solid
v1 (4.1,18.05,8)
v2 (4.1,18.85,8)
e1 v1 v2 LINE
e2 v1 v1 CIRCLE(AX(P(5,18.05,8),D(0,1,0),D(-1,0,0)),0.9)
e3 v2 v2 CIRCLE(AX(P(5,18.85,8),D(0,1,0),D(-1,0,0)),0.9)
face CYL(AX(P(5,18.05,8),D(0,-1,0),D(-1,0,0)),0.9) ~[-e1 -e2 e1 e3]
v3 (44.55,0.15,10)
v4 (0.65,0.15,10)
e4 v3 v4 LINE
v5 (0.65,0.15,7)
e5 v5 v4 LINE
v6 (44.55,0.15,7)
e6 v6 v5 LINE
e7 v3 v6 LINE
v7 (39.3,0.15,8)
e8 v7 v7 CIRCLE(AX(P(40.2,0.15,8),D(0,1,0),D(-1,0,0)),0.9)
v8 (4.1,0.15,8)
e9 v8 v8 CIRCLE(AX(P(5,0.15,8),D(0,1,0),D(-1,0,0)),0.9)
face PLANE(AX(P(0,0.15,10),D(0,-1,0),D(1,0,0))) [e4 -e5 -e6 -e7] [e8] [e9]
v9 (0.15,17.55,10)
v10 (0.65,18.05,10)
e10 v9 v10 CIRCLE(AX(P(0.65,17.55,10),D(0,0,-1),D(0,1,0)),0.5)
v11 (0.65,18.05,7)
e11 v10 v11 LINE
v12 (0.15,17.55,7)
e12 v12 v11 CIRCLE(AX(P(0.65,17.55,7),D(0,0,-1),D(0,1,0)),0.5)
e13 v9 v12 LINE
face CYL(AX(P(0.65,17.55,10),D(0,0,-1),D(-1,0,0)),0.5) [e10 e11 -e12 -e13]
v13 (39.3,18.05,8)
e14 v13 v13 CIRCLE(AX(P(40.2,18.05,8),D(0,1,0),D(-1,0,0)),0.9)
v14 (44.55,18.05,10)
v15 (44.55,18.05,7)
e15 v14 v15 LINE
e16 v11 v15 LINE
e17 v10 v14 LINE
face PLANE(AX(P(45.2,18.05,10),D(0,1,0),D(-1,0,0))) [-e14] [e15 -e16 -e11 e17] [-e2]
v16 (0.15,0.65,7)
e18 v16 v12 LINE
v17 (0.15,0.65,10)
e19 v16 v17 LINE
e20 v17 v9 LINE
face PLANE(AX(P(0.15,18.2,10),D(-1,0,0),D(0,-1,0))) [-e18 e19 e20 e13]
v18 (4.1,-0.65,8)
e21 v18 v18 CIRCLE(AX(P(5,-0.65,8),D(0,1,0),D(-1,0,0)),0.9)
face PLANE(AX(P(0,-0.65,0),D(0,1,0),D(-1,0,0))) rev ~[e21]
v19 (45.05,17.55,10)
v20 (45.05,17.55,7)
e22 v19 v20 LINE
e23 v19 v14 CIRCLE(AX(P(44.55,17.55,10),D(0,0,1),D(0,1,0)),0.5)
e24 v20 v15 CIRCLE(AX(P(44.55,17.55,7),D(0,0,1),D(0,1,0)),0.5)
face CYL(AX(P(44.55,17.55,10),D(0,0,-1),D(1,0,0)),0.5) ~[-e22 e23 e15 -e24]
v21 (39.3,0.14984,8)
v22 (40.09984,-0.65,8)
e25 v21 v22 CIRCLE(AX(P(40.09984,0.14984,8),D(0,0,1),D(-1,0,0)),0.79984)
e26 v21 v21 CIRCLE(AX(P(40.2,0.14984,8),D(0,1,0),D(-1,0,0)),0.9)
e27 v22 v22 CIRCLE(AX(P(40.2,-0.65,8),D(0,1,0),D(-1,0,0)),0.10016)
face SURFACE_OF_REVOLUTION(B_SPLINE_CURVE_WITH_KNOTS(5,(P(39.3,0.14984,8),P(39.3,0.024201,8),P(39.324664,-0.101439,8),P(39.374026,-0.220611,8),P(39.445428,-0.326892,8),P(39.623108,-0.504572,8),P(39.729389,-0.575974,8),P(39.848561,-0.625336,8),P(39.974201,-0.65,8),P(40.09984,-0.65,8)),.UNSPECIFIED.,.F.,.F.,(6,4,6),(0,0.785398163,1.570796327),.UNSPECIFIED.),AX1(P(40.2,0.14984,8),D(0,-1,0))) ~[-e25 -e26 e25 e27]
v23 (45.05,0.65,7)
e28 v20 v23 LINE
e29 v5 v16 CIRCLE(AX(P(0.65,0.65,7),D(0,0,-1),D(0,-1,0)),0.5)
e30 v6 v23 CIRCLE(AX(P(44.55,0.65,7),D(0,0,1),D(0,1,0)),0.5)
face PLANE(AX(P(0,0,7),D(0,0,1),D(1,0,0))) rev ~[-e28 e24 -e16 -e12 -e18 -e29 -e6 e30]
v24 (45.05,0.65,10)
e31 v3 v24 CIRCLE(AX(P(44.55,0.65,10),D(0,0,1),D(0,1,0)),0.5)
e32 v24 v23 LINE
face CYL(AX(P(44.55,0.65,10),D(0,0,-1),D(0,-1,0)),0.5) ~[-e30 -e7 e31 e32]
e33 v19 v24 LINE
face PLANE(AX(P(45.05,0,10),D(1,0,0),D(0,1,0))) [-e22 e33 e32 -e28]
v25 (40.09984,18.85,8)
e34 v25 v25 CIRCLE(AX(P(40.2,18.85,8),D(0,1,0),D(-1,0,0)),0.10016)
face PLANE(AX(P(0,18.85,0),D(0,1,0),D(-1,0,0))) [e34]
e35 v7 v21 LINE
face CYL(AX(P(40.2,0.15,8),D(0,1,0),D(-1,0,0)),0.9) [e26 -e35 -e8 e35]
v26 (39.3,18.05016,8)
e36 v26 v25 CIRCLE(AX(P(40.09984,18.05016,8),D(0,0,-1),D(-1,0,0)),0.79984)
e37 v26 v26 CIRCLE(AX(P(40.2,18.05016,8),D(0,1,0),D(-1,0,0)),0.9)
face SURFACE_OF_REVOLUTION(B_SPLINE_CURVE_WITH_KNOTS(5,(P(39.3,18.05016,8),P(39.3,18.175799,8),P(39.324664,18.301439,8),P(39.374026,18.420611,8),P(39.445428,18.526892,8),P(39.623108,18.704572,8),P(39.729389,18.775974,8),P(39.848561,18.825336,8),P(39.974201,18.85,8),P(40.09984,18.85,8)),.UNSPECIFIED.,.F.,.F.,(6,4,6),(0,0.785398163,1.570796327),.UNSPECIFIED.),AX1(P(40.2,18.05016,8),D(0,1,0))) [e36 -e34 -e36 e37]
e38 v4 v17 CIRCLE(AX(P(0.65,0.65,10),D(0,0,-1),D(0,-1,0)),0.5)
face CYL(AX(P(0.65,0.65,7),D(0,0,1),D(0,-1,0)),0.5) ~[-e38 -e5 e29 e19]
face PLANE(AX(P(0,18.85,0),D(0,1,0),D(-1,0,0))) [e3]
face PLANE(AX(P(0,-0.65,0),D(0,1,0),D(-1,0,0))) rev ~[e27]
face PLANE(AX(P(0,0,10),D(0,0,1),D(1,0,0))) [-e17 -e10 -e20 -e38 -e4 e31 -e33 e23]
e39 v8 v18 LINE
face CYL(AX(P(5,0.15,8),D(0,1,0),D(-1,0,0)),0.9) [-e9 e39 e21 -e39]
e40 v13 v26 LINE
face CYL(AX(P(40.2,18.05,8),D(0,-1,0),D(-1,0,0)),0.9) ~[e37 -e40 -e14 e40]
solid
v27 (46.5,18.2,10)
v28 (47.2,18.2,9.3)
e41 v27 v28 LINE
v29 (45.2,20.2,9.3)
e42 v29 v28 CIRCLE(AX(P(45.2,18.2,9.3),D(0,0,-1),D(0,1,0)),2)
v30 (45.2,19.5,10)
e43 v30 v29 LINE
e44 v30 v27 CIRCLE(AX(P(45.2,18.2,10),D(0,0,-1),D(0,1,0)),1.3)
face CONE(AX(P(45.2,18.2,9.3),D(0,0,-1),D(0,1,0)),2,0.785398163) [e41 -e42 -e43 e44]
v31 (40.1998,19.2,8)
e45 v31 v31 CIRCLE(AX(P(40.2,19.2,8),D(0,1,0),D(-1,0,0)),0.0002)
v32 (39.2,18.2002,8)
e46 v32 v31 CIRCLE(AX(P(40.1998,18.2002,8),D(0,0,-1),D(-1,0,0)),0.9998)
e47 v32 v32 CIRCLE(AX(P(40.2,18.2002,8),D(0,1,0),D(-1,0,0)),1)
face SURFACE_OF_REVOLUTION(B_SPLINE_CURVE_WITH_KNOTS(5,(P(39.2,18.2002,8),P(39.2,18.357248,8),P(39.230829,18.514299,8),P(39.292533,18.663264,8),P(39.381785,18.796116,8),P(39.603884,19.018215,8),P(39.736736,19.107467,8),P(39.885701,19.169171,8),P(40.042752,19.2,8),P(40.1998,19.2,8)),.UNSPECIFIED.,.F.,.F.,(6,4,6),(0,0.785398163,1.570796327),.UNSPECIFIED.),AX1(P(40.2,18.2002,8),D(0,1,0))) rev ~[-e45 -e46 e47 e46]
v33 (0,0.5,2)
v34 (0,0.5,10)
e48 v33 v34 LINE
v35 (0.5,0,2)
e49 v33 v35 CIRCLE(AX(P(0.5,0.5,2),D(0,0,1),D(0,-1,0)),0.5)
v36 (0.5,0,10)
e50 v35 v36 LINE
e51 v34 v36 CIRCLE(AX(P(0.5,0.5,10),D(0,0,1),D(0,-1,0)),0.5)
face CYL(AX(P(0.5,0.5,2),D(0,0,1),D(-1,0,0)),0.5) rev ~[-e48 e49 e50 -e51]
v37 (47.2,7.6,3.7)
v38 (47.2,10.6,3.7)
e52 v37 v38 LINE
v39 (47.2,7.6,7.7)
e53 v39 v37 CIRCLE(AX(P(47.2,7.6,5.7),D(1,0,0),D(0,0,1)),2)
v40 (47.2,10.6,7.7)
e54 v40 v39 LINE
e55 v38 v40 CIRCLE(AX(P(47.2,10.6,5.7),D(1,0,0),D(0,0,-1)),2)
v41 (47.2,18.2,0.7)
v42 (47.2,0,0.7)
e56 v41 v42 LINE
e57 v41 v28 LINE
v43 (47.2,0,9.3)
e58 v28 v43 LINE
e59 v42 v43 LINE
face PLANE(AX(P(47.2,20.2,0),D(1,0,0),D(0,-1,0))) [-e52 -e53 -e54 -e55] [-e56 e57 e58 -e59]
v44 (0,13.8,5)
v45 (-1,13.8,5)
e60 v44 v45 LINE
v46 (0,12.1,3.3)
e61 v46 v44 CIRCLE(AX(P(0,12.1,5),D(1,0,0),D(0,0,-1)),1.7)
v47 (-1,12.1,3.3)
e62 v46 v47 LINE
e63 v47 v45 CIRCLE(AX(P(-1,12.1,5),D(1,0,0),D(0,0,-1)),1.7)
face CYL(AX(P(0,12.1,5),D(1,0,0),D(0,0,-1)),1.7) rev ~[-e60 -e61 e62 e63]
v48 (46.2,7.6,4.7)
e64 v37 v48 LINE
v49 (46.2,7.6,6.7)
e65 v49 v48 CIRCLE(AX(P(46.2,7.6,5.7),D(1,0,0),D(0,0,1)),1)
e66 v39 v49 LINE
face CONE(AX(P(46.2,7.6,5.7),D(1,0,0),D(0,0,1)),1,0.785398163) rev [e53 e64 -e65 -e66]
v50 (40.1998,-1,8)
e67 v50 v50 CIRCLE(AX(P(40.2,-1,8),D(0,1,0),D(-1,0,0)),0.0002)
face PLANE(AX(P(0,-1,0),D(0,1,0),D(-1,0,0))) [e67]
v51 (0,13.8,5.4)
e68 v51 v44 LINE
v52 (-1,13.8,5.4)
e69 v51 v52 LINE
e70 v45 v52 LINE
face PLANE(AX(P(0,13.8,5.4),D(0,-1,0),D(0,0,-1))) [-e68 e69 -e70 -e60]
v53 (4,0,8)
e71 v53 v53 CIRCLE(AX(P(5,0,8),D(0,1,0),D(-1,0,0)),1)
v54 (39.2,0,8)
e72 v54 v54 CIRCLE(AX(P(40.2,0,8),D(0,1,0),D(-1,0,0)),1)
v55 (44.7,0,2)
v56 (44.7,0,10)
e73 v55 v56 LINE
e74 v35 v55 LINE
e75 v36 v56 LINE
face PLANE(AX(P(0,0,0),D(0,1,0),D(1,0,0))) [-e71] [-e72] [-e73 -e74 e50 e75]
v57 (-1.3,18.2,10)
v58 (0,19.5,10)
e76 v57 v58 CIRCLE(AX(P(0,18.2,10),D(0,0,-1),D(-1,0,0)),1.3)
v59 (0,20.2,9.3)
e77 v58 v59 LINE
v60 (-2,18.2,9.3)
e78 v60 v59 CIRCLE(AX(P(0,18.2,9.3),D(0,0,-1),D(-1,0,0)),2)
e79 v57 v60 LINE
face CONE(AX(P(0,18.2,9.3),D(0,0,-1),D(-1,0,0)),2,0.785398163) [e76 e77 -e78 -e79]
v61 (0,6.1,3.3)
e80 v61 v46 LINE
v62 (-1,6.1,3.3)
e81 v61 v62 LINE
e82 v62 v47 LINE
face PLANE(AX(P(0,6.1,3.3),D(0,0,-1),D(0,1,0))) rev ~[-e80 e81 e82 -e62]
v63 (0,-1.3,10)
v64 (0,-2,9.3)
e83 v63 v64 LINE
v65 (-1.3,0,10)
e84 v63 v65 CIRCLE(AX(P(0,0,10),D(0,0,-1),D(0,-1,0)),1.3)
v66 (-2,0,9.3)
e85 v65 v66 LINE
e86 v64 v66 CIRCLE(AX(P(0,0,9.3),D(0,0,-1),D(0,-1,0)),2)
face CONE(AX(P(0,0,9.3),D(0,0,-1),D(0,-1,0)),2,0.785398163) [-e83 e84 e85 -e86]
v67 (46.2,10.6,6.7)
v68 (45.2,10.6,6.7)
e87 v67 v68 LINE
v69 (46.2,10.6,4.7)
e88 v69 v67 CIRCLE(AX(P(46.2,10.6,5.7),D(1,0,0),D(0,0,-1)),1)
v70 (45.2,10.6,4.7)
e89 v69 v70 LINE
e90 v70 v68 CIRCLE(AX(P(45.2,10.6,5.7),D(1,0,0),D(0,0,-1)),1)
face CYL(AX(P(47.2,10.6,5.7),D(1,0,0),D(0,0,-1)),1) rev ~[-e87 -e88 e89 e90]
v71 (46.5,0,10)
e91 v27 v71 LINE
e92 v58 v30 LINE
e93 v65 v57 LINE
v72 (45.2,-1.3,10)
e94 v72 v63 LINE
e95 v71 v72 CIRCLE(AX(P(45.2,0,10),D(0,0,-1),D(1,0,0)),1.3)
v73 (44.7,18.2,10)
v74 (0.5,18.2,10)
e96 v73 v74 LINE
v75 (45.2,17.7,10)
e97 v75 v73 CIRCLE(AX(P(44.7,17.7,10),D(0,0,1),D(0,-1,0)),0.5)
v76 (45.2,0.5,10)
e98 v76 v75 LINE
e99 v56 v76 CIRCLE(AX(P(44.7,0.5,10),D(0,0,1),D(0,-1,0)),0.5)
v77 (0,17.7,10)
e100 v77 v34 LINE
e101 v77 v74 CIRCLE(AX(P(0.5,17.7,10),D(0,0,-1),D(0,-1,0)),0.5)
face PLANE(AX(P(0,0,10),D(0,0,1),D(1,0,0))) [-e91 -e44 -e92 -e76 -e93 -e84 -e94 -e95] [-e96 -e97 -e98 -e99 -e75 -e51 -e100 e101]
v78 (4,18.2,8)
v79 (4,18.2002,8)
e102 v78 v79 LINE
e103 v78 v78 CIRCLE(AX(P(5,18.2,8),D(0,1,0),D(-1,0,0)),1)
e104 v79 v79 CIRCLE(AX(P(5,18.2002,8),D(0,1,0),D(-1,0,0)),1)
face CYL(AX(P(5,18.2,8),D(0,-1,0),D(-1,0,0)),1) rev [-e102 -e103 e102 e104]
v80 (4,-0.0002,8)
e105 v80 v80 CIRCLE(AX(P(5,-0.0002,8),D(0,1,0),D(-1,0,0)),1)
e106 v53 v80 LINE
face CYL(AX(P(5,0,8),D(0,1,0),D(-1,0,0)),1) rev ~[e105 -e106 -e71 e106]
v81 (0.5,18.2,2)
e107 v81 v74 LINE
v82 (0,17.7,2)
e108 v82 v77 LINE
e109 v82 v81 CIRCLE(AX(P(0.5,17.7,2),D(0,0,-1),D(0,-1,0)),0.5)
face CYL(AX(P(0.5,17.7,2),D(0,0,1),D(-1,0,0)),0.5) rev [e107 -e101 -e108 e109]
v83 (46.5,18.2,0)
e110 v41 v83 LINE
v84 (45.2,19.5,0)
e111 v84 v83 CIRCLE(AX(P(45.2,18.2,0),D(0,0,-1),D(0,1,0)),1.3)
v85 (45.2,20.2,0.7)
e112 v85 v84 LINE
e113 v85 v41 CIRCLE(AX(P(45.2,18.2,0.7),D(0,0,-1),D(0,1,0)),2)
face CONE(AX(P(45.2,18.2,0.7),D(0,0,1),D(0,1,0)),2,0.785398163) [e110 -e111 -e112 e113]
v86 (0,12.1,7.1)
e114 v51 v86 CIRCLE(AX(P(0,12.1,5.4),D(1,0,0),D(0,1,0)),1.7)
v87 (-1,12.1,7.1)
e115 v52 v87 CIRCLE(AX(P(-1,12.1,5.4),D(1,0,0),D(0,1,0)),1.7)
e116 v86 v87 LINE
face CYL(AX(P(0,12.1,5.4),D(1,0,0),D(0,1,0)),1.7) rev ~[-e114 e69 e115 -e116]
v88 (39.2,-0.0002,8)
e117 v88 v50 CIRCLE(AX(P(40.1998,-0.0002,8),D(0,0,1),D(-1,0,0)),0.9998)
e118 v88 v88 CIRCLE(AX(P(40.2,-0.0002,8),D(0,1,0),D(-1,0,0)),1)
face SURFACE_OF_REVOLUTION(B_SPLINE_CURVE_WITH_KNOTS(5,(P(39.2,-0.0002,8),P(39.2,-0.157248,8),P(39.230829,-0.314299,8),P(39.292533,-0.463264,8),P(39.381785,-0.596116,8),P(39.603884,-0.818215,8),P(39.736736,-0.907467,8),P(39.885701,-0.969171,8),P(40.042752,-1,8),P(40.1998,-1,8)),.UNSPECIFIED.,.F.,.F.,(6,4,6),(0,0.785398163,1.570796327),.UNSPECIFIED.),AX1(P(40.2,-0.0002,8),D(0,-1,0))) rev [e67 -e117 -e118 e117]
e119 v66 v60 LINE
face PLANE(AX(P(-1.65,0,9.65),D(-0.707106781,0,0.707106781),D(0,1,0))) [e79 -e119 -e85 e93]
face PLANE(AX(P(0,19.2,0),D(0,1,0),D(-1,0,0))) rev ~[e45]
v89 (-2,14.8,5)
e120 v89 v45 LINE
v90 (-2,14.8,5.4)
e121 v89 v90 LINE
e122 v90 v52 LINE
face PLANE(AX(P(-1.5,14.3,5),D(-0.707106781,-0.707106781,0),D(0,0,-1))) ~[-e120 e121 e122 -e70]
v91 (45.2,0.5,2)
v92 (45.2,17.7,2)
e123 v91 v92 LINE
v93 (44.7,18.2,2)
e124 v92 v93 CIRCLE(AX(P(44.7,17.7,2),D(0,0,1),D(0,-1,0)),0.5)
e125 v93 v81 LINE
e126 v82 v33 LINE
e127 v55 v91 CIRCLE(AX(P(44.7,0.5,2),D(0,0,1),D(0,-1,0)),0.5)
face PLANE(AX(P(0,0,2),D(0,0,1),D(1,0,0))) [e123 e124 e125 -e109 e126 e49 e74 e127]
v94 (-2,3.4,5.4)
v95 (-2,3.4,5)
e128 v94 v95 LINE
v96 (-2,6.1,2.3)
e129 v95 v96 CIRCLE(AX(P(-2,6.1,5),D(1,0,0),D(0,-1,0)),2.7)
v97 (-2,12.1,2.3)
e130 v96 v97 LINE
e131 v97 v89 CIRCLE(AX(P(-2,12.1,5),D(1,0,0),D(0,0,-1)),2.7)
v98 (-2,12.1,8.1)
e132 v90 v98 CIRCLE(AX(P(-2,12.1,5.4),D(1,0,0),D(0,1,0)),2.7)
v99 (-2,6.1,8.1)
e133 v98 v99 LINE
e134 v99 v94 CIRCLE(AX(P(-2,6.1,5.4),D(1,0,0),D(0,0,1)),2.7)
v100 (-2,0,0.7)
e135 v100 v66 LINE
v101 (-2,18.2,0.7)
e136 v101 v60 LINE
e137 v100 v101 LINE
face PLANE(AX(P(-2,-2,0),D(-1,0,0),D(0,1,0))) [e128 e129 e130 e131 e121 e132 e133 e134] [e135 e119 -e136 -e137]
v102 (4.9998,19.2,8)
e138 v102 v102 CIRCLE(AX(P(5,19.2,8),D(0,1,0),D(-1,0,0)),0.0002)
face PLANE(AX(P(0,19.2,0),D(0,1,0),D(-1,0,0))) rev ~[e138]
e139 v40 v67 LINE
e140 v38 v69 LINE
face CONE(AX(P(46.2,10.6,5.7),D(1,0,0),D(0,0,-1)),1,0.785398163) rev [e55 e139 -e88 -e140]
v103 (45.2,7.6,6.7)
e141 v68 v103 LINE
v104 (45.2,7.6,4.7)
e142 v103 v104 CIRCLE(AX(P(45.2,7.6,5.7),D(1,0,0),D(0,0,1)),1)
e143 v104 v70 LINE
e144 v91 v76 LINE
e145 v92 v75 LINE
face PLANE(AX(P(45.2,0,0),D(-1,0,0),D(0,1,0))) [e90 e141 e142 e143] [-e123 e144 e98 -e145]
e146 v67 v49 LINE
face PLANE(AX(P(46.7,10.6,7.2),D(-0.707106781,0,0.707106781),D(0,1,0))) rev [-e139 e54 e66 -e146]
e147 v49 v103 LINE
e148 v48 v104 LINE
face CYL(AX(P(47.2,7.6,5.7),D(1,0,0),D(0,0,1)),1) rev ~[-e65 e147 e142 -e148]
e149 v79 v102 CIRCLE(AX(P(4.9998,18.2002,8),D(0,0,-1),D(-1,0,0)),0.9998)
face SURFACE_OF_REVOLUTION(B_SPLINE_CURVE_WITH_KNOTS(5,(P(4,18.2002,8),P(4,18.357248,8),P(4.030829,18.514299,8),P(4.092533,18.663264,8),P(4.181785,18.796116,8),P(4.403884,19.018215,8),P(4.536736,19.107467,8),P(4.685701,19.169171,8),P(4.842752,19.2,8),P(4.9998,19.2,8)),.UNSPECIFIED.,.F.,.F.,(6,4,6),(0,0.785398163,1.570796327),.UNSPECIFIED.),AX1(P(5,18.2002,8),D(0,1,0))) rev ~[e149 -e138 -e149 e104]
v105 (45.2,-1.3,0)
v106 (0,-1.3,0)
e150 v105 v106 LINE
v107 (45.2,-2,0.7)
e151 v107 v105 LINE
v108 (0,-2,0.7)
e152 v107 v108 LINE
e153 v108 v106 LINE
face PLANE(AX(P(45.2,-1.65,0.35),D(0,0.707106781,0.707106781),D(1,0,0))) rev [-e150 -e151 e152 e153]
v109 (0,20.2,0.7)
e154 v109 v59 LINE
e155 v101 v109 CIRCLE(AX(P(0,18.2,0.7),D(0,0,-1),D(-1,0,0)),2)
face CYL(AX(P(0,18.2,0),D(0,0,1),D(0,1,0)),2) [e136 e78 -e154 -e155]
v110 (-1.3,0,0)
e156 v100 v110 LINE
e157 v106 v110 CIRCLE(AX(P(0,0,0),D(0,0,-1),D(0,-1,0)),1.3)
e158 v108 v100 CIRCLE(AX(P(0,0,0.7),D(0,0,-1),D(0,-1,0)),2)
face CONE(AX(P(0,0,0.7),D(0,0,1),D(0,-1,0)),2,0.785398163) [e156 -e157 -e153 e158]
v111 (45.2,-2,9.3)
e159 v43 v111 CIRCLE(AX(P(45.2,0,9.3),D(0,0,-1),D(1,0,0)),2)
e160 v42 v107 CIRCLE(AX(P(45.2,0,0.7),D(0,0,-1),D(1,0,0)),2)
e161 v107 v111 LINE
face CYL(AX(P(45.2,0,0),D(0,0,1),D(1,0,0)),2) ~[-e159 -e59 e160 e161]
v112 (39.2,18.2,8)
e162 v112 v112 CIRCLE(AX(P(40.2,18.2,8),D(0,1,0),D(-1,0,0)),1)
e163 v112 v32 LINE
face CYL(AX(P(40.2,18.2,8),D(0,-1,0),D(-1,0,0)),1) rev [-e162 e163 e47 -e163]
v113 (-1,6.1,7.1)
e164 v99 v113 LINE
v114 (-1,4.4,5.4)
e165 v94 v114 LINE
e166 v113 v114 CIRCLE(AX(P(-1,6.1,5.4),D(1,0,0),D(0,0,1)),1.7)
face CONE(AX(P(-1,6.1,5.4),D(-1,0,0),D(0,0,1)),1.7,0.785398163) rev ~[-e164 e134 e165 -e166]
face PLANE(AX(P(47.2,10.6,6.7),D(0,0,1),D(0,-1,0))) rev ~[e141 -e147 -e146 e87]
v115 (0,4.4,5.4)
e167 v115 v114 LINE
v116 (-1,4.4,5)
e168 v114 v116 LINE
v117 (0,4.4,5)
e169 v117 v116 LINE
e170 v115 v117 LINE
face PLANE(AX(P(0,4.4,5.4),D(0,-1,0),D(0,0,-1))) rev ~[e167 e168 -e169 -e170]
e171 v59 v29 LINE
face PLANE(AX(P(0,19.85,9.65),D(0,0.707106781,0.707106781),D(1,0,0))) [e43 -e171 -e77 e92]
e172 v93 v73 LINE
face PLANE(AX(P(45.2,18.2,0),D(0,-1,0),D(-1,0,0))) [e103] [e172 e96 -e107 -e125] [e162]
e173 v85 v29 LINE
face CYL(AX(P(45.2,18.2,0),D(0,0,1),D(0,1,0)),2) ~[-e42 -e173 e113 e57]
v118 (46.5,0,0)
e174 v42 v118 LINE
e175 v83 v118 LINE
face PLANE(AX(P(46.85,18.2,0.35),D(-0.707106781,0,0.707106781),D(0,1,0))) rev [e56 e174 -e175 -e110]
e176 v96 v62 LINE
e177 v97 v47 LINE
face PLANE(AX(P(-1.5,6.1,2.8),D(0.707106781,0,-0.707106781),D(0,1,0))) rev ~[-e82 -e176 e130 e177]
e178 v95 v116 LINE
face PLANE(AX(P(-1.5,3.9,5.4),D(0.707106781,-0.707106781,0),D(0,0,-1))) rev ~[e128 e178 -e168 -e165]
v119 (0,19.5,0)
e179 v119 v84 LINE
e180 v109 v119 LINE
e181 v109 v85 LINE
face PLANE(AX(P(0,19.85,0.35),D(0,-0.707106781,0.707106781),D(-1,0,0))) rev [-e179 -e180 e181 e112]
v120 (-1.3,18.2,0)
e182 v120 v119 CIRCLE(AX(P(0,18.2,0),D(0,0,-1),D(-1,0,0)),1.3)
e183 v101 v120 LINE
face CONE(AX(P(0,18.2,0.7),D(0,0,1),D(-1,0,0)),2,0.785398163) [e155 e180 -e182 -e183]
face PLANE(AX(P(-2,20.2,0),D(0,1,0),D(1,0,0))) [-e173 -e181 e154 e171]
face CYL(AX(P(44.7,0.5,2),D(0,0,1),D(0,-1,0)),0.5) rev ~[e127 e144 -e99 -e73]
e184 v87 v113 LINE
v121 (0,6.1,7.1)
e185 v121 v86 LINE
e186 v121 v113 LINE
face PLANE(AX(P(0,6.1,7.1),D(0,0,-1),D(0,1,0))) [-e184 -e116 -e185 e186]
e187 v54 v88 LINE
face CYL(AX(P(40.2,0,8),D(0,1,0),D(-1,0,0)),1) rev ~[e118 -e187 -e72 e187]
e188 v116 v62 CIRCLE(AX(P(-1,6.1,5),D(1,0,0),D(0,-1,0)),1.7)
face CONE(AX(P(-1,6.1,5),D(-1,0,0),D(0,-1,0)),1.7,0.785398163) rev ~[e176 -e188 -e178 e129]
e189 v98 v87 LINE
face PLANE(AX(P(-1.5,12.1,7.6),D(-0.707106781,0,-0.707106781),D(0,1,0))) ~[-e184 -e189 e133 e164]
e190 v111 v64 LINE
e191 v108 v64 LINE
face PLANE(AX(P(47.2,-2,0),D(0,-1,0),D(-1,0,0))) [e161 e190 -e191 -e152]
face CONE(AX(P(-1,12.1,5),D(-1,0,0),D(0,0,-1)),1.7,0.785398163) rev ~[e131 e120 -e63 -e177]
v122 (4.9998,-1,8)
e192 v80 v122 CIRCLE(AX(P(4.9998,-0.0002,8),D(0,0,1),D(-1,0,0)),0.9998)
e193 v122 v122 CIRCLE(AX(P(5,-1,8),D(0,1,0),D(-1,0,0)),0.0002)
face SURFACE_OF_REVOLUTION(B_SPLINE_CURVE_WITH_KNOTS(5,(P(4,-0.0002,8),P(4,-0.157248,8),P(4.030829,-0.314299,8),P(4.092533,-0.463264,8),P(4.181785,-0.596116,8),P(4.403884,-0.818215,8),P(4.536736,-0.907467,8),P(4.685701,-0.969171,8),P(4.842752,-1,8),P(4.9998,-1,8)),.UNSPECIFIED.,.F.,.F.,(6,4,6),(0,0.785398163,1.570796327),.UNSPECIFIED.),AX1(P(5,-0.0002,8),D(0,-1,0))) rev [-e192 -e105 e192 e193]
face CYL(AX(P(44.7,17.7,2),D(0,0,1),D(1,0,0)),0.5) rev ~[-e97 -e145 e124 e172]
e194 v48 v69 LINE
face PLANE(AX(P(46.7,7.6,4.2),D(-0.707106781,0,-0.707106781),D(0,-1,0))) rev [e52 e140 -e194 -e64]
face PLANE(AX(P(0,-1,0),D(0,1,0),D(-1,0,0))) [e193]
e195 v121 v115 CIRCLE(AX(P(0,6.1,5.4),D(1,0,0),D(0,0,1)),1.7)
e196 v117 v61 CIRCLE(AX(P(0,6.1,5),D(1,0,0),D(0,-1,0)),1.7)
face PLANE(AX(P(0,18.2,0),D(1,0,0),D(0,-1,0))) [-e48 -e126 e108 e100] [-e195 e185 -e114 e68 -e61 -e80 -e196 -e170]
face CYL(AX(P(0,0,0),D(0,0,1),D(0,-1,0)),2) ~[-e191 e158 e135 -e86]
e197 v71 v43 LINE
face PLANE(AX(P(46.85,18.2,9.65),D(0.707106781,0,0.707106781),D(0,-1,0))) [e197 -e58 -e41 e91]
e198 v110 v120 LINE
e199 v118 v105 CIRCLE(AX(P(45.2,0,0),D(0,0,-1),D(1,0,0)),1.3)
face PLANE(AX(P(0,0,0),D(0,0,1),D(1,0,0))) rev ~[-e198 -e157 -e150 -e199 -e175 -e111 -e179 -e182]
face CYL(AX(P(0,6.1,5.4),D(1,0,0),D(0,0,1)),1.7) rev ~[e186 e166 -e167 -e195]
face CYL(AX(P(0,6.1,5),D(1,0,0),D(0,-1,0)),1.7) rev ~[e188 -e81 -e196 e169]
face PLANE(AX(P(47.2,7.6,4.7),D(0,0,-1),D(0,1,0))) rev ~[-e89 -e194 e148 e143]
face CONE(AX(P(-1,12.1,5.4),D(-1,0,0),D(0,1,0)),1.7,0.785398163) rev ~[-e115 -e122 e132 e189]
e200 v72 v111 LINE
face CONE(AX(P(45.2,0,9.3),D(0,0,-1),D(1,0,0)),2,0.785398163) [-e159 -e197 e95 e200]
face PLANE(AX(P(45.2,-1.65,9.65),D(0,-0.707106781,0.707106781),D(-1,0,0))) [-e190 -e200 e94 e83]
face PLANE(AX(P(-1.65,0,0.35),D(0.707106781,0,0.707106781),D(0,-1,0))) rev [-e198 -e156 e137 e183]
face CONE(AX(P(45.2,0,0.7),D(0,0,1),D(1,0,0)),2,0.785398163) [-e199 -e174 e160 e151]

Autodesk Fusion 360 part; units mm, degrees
sketch "Sketch1" plane through (0, 0, 0) normal (0, 0, 1) x (1, 0, 0)
  line L0 (0, 0) -> (45.2, 0)
  line L1 (45.2, 0) -> (45.2, 18.2)
  line L2 (45.2, 18.2) -> (0, 18.2)
  line L3 (0, 18.2) -> (0, 0)
  line L4 (-2, 20.2) -> (47.2, 20.2)
  line L5 (47.2, 20.2) -> (47.2, -2)
  line L6 (47.2, -2) -> (-2, -2)
  line L7 (-2, -2) -> (-2, 20.2)
  dimension "d1" = 45.2
  dimension "d2" = 18.2
  dimension "d3" = 2
  dimension "d4" = 2
  dimension "d5" = 2
  dimension "d6" = 2
extrude "Extrude1" add sketch "Sketch1" along normal blind 2 contours L0 L1 L2 L3 makes body 1 in component "Component"
extrude "Extrude2" add sketch "Sketch1" along normal blind 10 bodies 1 in component "Component"
extrude "Extrude1'" add sketch "Sketch1" against normal blind 3 from surface at 10 separate body contours L0 L1 L2 L3 makes body 2 in component "Component'"
sketch "Sketch2" plane through (0, 0, 0) normal (0, 1, 0) x (-1, 0, 0)
  line L0 (-45.2, 2) -> (0, 2)
  line L1 (0, 2) -> (0, 10)
  line L2 (0, 10) -> (-45.2, 10)
  line L3 (-45.2, 10) -> (-45.2, 2)
  line L4 (-22.6, 2) -> (-22.6, 13) construction
  circle A0 centre (-40.2, 8) radius 1
  circle A1 centre (-5, 8) radius 1
  circle A2 centre (-5, 8) radius 0.9
  circle A3 centre (-40.2, 8) radius 0.9
  dimension "d18" = 2
  dimension "d19" = 2
  dimension "d20" = 5
  dimension "d47" = -0.1
extrude "Extrude3" cut sketch "Sketch2" against normal blind 1 contours A0 | A1 | A2 | A3 bodies 1 in component "Component"
extrude "Extrude4" cut sketch "Sketch2" along normal blind 1 from surface at 18.2 contours A0 | A1 | A2 | A3 bodies 1 in component "Component"
fillet "Fillet1" radius 1 4 edges at (5.9323, 19.2, 7.6384) (41.1323, 19.2, 7.6384) (5.9323, -1, 8.3616) (41.1323, -1, 8.3616) on bodies 1 in component "Component"
move_face "OffsetFaces1" offset -0.15 4 faces at (15.0667, 0, 9) (0, 12.1333, 9) (30.1333, 18.2, 9) (45.2, 6.0667, 9) on bodies 2 in component "Component'"
extrude "Extrude2'" add sketch "Sketch2" against normal blind 0.8 from surface at 0.15 contours A2 | A3 bodies 2 in component "Component'"
extrude "Extrude3'" add sketch "Sketch2" along normal blind 0.8 from surface at 18.05 contours A2 | A3 bodies 2 in component "Component'"
fillet "Fillet1'" radius 0.8 4 faces at (40.2224, 18.85, 8.2858) (40.2224, 18.85, 8.2858) (40.2224, -0.65, 8.2858) (40.2224, -0.65, 8.2858) on bodies 2 in component "Component'"
sketch "Sketch3" plane through (0, 0, 0) normal (1, 0, 0) x (0, 1, 0)
  line L0 (0, 2) -> (18.2, 2)
  line L1 (18.2, 2) -> (18.2, 10)
  line L2 (18.2, 10) -> (0, 10)
  line L3 (0, 10) -> (0, 2)
  line L4 (9.1, 2) -> (9.1, 6.8) construction
  line L5 (6.1, 6.8) -> (12.1, 6.8) construction
  line L6 (4.7, 5.4) -> (4.7, 5) construction
  line L7 (6.1, 3.6) -> (12.1, 3.6) construction
  line L8 (13.5, 5.4) -> (13.5, 5) construction
  arc A0 (6.1, 6.8) -> (4.7, 5.4) centre (6.1, 5.4) ccw construction
  arc A1 (13.5, 5.4) -> (12.1, 6.8) centre (12.1, 5.4) ccw construction
  arc A2 (12.1, 3.6) -> (13.5, 5) centre (12.1, 5) ccw construction
  arc A3 (4.7, 5) -> (6.1, 3.6) centre (6.1, 5) ccw construction
  arc A4 (13.8, 5.4) -> (12.1, 7.1) centre (12.1, 5.4) ccw
  line L9 (6.1, 7.1) -> (12.1, 7.1)
  arc A5 (6.1, 7.1) -> (4.4, 5.4) centre (6.1, 5.4) ccw
  line L10 (4.4, 5.4) -> (4.4, 5)
  arc A6 (4.4, 5) -> (6.1, 3.3) centre (6.1, 5) ccw
  line L11 (6.1, 3.3) -> (12.1, 3.3)
  arc A7 (12.1, 3.3) -> (13.8, 5) centre (12.1, 5) ccw
  line L12 (13.8, 5.4) -> (13.8, 5)
  dimension "d36" = 3.2
  dimension "d37" = 1.6
  dimension "d38" = 8.8
  dimension "d39" = 1.4
  dimension "d40" = -0.3
extrude "Extrude5" cut sketch "Sketch3" against normal blind 2 contours A4 L9 A5 L10 A6 L11 A7 L12 bodies 1 in component "Component"
fillet "Fillet2" radius 2 4 edges at (-2, -2, 5) (47.2, -2, 5) (47.2, 20.2, 5) (-2, 20.2, 5) on bodies 1 in component "Component"
chamfer "Chamfer1" distance 0.7 angle 45 8 edges at (-2, 9.1, 10) (-1.4142, -1.4142, 10) (22.6, -2, 10) (46.6142, -1.4142, 10) (47.2, 9.1, 10) (46.6142, 19.6142, 10) (22.6, 20.2, 10) (-1.4142, 19.6142, 10) 1 faces at (15.0667, 5.4, 0) on bodies 1 in component "Component"
sketch "Sketch4" plane through (47.2, 0, 0) normal (1, 0, 0) x (0, 1, 0)
  line L0 (0, 0.7) -> (18.2, 0.7)
  line L1 (18.2, 0.7) -> (18.2, 9.3)
  line L2 (18.2, 9.3) -> (0, 9.3)
  line L3 (0, 9.3) -> (0, 0.7)
  line L4 (7.6, 4.7) -> (10.6, 4.7)
  arc A0 (10.6, 4.7) -> (10.6, 6.7) centre (10.6, 5.7) ccw
  line L5 (10.6, 6.7) -> (7.6, 6.7)
  arc A1 (7.6, 6.7) -> (7.6, 4.7) centre (7.6, 5.7) ccw
  line L6 (7.6, 5.7) -> (10.6, 5.7) construction
  line L7 (9.1, 0.7) -> (9.1, 5.7) construction
  dimension "d50" = 2
  dimension "d51" = 3
  dimension "d52" = 4
extrude "Extrude6" cut sketch "Sketch4" against normal blind 2 contours L4 A0 L5 A1 bodies 1 in component "Component"
chamfer "Chamfer2" distance 1 angle 45 12 edges at (-2, 13.3021, 3.7979) (-2, 13.8, 5.2) (-2, 13.3021, 6.6021) (-2, 9.1, 7.1) (-2, 4.8979, 6.6021) (-2, 4.4, 5.2) (-2, 4.8979, 3.7979) (-2, 9.1, 3.3) (47.2, 9.1, 4.7) (47.2, 6.6, 5.7) (47.2, 9.1, 6.7) (47.2, 11.6, 5.7) on bodies 1 in component "Component"
fillet "Fillet2'" radius 0.5 4 edges at (0.15, 0.15, 8.5) (0.15, 18.05, 8.5) (45.05, 18.05, 8.5) (45.05, 0.15, 8.5) on bodies 2 in component "Component'"
fillet "Fillet3" radius 0.5 4 edges at (0, 0, 6) (0, 18.2, 6) (45.2, 18.2, 6) (45.2, 0, 6) on bodies 1 in component "Component"
component "Component" placed x (1, 0, 0) y (0, 1, 0) z (0, 0, 1) at (0, 0, 0)
component "Component'" placed x (1, 0, 0) y (0, 1, 0) z (0, 0, 1) at (0, 0, 0)
equation "d4 = d3"
equation "d5 = d3"
equation "d6 = d3"
